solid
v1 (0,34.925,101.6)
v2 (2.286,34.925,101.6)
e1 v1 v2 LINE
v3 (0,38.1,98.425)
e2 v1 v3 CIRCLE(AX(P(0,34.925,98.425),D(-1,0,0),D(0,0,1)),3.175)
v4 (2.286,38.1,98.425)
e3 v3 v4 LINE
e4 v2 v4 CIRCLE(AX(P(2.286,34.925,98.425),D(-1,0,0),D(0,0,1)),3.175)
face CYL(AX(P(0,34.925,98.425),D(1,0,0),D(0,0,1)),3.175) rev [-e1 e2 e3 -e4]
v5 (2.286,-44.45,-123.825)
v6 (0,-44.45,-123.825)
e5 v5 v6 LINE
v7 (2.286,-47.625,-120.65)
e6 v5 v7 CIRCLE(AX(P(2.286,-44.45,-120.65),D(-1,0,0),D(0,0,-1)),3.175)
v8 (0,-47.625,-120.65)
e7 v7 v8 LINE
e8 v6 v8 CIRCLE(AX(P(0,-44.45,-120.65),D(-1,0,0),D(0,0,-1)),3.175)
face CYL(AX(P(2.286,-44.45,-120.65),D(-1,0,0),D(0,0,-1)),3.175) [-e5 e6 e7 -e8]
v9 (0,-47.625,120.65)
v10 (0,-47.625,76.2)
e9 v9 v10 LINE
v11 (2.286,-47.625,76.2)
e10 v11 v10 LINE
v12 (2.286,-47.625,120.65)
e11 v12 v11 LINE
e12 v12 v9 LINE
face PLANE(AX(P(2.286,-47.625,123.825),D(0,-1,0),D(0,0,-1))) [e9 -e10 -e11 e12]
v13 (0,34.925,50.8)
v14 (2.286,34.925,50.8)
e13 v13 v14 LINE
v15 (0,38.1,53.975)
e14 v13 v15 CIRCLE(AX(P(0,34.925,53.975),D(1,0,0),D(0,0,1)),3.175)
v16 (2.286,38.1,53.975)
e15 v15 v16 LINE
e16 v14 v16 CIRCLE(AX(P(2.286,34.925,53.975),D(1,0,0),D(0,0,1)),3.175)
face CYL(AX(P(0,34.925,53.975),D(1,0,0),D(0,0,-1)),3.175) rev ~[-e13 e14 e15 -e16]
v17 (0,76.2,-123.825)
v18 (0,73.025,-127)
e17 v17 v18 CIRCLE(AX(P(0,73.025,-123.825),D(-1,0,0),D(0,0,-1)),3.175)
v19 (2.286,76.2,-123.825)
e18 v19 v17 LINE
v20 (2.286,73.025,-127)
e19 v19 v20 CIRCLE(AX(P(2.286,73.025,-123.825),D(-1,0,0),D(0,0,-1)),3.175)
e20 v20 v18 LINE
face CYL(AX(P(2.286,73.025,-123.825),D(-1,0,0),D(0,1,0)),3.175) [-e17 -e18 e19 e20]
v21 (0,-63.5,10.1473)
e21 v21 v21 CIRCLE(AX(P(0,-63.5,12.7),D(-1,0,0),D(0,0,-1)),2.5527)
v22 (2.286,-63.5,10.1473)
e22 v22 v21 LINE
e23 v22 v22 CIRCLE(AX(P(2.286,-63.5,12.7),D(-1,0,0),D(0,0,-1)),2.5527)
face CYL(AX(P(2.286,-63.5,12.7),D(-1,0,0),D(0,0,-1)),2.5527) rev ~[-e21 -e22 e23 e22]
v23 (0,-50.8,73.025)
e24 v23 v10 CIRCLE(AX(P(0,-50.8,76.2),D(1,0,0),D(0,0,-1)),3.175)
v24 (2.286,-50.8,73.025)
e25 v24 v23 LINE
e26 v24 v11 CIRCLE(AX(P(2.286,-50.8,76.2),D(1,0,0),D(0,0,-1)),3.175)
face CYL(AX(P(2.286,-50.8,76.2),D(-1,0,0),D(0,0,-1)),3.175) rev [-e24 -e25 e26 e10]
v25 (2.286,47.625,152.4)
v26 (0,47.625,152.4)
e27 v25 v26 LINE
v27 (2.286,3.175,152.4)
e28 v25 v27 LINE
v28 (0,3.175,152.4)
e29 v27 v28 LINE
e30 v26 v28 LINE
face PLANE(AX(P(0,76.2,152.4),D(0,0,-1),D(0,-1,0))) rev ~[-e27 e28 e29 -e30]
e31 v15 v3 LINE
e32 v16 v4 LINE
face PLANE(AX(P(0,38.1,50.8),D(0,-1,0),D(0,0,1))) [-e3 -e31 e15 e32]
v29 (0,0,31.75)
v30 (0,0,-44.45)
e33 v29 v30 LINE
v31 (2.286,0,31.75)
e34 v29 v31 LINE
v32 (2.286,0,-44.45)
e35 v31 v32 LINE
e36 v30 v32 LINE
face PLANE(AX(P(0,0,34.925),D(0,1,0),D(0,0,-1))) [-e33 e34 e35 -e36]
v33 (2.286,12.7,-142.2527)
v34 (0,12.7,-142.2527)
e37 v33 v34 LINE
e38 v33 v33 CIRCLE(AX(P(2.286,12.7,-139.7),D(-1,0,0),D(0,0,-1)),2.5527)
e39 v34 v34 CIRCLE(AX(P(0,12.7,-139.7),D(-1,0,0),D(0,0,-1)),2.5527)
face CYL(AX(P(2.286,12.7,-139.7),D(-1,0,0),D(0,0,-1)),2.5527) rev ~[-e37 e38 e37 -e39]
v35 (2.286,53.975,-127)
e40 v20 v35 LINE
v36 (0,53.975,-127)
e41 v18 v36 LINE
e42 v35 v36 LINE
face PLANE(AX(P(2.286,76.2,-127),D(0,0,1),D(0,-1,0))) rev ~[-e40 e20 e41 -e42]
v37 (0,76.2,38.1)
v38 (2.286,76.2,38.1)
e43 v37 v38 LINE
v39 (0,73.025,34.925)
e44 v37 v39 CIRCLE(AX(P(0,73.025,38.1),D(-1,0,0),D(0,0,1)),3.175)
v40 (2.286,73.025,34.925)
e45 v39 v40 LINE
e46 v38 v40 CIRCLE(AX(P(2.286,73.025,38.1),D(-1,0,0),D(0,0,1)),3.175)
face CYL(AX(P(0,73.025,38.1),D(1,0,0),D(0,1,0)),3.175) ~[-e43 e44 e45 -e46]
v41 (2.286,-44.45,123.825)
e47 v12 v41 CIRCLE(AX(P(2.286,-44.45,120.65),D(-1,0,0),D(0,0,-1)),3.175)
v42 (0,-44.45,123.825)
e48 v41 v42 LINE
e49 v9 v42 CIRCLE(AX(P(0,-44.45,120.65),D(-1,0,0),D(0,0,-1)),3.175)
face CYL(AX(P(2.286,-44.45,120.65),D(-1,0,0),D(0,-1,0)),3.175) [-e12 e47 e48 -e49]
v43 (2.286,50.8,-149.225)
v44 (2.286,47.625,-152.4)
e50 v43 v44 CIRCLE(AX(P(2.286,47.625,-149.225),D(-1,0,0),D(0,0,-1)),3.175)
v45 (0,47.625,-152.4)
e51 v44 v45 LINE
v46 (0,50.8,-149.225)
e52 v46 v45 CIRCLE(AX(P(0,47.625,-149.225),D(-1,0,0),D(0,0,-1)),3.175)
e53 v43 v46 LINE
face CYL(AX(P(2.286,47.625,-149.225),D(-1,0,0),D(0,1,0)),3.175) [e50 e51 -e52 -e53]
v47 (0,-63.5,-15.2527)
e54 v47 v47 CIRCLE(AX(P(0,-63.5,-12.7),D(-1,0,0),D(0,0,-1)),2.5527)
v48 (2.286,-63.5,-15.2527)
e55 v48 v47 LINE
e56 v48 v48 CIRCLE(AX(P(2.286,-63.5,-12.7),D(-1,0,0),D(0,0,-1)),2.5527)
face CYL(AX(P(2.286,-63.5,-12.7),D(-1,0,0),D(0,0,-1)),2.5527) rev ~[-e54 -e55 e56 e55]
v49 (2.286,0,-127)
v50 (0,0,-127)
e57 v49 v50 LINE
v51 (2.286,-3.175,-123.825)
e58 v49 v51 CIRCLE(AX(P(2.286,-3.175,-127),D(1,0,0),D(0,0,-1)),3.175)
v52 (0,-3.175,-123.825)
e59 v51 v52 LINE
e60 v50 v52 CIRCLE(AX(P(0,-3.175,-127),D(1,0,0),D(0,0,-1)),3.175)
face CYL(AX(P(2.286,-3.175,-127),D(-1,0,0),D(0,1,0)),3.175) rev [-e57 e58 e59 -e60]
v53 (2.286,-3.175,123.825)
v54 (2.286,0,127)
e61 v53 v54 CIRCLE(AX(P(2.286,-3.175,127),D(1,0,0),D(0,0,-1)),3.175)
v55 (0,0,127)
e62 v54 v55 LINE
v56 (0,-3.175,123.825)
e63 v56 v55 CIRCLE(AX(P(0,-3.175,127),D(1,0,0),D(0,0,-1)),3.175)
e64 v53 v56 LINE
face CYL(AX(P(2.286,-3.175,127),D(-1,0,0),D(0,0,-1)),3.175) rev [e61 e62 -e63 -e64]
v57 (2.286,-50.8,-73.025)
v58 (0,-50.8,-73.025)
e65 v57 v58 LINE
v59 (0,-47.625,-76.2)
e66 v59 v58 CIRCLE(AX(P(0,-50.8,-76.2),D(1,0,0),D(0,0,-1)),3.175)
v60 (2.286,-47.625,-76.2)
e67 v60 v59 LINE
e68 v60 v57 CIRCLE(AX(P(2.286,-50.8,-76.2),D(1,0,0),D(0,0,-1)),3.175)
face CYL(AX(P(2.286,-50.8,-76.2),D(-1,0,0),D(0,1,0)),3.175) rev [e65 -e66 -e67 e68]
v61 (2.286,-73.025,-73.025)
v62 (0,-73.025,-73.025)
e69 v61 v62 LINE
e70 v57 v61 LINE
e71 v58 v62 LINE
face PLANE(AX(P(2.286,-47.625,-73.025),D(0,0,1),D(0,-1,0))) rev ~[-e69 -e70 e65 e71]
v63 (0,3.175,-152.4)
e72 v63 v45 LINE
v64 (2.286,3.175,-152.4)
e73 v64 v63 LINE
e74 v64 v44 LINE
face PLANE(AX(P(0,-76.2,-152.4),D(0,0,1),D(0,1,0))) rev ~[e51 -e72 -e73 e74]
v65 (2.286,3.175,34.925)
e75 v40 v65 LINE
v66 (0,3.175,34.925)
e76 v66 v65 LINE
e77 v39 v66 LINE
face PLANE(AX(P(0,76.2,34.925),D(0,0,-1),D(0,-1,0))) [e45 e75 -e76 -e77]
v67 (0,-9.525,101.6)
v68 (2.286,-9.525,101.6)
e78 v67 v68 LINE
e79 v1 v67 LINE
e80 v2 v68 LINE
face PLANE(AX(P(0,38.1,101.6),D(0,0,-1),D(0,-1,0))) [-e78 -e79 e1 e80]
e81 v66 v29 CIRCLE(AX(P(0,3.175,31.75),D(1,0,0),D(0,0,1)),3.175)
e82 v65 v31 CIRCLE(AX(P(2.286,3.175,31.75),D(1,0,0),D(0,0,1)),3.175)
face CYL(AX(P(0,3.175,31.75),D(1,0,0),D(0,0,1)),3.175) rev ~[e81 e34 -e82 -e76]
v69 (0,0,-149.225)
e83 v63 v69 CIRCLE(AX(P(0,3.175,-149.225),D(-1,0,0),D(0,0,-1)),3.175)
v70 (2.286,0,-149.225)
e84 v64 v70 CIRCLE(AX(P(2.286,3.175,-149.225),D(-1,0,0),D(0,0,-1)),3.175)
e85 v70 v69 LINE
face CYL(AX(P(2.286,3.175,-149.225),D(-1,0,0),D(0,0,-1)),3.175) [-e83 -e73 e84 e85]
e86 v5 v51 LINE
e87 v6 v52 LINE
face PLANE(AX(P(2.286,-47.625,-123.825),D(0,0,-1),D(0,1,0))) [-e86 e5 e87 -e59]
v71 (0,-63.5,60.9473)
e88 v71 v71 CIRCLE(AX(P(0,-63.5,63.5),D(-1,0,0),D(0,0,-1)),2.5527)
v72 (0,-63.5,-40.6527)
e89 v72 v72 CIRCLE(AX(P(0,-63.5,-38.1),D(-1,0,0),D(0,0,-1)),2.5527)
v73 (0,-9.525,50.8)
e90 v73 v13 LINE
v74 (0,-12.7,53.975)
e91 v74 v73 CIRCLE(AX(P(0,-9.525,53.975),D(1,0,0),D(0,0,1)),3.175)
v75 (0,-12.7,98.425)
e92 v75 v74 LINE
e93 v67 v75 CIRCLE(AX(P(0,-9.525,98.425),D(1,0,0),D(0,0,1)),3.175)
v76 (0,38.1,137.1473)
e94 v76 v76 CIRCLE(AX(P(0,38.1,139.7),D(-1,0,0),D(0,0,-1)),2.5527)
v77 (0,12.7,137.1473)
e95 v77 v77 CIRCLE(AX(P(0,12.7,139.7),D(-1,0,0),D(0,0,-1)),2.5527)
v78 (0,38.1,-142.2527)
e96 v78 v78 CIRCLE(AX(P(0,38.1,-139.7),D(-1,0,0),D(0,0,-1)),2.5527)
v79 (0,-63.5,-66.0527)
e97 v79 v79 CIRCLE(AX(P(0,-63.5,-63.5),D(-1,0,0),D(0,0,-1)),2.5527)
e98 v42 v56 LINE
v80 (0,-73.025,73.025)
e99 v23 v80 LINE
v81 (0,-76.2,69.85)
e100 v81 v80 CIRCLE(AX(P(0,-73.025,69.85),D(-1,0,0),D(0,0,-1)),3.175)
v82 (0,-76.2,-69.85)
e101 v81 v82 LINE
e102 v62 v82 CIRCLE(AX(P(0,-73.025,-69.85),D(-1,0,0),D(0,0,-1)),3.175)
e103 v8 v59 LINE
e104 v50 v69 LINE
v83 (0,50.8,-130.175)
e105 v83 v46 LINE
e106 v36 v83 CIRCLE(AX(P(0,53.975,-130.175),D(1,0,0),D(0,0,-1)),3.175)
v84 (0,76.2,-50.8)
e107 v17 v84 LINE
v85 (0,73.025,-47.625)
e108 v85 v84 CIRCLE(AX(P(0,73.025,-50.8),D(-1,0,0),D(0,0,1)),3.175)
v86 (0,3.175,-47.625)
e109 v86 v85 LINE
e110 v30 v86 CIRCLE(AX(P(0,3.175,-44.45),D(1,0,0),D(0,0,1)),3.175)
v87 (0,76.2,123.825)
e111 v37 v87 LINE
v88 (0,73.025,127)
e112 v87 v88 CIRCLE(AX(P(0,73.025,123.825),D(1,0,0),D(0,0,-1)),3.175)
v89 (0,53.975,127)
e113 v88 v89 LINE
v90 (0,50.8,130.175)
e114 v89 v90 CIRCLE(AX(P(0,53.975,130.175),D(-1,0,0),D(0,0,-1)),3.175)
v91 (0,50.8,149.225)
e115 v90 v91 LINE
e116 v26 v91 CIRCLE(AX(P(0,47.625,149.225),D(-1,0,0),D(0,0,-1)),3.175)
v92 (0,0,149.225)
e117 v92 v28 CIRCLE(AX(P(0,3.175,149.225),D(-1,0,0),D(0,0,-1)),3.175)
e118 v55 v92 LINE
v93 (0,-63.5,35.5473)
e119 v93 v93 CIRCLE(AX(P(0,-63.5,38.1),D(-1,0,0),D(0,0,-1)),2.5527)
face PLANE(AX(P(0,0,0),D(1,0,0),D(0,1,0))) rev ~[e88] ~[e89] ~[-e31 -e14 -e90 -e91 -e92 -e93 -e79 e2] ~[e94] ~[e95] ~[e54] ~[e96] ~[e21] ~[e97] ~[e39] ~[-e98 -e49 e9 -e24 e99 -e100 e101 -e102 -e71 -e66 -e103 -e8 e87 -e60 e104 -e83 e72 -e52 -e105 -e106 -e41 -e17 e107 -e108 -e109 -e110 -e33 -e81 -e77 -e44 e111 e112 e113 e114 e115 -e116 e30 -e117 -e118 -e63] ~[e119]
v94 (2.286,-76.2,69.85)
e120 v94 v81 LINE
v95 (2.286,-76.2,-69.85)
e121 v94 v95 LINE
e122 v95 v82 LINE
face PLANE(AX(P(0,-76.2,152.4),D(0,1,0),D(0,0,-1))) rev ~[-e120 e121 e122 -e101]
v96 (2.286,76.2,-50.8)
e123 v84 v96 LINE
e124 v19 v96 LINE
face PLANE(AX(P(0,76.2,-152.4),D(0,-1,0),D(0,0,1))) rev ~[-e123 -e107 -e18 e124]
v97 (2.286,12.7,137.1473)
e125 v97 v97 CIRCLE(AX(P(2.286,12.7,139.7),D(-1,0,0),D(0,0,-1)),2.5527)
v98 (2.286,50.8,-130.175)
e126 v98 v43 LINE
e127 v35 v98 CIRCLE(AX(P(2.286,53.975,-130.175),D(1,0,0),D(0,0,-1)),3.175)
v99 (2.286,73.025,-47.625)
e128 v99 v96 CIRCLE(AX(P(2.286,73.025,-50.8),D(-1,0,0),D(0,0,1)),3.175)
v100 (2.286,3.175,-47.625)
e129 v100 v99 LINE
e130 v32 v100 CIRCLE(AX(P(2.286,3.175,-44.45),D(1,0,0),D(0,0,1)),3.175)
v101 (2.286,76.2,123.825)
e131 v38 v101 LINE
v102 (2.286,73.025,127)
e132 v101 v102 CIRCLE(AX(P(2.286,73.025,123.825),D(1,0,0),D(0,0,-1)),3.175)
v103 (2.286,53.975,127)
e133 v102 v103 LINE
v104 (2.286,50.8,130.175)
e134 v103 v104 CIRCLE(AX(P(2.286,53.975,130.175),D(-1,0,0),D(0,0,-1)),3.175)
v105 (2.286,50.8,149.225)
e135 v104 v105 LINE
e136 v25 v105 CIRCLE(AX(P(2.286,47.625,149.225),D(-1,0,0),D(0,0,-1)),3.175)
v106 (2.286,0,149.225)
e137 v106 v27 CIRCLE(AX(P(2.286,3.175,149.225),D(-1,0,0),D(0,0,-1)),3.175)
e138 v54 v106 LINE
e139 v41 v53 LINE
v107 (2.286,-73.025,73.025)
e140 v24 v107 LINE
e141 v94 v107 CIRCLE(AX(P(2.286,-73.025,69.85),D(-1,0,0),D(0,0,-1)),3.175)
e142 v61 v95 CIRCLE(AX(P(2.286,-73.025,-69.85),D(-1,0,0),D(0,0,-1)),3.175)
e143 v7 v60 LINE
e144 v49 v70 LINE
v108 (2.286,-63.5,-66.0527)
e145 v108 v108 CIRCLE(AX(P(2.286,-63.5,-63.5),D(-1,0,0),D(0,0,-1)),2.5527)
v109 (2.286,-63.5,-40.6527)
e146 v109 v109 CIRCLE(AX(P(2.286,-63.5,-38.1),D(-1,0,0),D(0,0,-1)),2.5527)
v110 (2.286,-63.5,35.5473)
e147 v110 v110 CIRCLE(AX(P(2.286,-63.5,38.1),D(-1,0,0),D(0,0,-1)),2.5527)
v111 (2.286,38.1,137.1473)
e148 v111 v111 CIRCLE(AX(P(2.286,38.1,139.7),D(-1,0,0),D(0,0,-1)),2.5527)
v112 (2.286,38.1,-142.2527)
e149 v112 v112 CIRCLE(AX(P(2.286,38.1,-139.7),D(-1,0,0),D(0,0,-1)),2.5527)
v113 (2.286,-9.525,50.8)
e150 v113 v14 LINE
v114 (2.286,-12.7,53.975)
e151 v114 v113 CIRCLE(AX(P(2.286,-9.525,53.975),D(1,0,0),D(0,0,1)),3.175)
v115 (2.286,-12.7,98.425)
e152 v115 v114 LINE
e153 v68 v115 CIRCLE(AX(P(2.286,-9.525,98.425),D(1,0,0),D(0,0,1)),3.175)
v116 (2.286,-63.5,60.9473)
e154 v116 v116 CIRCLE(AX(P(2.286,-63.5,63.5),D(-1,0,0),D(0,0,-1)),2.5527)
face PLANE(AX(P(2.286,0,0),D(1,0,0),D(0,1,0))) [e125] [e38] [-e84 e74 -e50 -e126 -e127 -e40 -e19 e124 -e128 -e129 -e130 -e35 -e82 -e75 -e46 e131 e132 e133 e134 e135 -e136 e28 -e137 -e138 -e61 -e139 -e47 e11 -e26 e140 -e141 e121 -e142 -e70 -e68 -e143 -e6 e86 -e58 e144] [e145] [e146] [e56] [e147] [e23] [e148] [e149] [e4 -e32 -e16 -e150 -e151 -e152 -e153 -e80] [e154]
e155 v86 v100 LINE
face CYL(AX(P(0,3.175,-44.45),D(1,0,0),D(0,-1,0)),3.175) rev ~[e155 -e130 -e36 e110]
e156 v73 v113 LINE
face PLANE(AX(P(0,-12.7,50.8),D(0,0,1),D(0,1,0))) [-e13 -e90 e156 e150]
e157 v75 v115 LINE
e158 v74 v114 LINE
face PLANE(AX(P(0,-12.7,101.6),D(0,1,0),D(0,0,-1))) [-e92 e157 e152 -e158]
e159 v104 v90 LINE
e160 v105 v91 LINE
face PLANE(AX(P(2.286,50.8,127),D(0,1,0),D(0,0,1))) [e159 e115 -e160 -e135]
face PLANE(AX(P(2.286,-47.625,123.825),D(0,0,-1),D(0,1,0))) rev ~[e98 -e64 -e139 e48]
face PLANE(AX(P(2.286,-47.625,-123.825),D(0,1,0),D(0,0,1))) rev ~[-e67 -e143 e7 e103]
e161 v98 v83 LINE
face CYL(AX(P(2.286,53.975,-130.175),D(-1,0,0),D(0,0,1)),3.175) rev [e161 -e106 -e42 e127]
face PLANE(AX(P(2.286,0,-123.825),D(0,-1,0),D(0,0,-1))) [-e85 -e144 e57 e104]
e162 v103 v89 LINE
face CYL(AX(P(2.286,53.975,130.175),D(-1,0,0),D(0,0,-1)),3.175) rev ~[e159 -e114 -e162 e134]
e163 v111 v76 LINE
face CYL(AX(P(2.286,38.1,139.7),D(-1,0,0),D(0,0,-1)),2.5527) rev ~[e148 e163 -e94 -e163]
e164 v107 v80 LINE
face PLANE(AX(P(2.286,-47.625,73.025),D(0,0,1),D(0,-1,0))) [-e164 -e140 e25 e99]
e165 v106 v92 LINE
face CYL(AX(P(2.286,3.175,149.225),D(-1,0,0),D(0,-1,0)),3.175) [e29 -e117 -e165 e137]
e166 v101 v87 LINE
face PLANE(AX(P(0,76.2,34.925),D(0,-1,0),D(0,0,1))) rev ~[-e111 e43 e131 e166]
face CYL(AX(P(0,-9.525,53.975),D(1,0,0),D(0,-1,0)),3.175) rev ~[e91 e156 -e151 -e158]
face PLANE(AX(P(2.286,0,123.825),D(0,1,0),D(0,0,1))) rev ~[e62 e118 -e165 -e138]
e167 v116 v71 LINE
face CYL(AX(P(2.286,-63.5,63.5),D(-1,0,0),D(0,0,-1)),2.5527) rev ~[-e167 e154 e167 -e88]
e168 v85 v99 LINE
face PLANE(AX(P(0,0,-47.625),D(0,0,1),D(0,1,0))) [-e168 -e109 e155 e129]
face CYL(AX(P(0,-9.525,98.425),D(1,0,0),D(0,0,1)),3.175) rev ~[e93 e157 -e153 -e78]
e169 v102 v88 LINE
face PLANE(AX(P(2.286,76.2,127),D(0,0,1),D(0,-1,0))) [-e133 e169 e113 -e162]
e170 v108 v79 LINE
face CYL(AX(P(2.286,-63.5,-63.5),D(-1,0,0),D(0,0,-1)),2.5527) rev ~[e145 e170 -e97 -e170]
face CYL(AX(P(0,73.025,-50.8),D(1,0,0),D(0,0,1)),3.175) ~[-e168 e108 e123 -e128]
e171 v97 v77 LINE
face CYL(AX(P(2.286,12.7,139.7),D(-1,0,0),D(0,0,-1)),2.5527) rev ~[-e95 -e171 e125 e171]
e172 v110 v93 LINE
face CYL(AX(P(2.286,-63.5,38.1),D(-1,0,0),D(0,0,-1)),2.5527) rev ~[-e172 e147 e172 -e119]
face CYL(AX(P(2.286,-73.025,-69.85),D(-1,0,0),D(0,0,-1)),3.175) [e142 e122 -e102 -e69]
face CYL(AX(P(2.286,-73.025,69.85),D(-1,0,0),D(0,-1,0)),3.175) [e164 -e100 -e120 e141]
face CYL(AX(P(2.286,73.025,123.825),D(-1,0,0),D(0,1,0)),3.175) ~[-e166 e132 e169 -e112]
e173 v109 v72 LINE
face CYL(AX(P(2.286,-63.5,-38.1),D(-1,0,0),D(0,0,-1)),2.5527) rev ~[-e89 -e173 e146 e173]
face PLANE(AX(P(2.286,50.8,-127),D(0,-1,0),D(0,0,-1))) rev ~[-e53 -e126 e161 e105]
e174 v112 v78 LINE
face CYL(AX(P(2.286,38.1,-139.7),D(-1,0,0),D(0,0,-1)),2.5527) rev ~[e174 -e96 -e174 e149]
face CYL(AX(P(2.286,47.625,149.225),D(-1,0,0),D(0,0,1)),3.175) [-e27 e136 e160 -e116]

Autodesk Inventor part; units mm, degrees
ref_plane "YZ Plane" through (0, 0, 0) normal (1, 0, 0) x (0, 1, 0)
ref_plane "XZ Plane" through (0, 0, 0) normal (0, 1, 0) x (-1, 0, 0)
ref_plane "XY Plane" through (0, 0, 0) normal (0, 0, 1) x (1, 0, 0)
sketch "Sketch1" plane through (0, 0, 0) normal (1, 0, 0) x (0, 1, 0)
  line L0 (76.2, 152.4) -> (-76.2, 152.4)
  line L1 (-76.2, 152.4) -> (-76.2, -152.4)
  line L2 (-76.2, -152.4) -> (76.2, -152.4)
  line L3 (76.2, -152.4) -> (76.2, 152.4)
  line L4 (76.2, 152.4) -> (-76.2, -152.4) construction
  line L5 (-76.2, 152.4) -> (76.2, -152.4) construction
  line L6 (38.1, 101.6) -> (-12.7, 101.6)
  line L7 (-12.7, 101.6) -> (-12.7, 50.8)
  line L8 (-12.7, 50.8) -> (38.1, 50.8)
  line L9 (38.1, 50.8) -> (38.1, 101.6)
  line L10 (38.1, 101.6) -> (-12.7, 50.8) construction
  line L11 (-12.7, 101.6) -> (38.1, 50.8) construction
  line L12 (76.2, 34.925) -> (0, 34.925)
  line L13 (0, 34.925) -> (0, -47.625)
  line L14 (0, -47.625) -> (76.2, -47.625)
  line L15 (76.2, -47.625) -> (76.2, 34.925)
  line L16 (76.2, 34.925) -> (0, -47.625) construction
  line L17 (0, 34.925) -> (76.2, -47.625) construction
  point P0 (0, 0)
  point P1 (12.7, 76.2)
  point P2 (38.1, -6.35)
  point P3 (76.2, -6.35)
  point P4 (76.2, 0)
  point P5 (76.2, -47.625)
  point P6 (0, 44.45)
  point P7 (31.75, 44.45)
  point P8 (76.2, 34.925)
  dimension "d0" = 152.4
  dimension "d1" = 304.8
  dimension "d2" = 50.8
  dimension "d3" = 88.9
  dimension "d4" = 76.2
  dimension "d39" = 76.2
  dimension "d40" = 82.55
  dimension "d41" = 146.05
extrude "Extrusion1" add sketch "Sketch1" along normal blind 2.286 contours L3 L12 L13 L14 L2 L1 L0
fillet "Fillet1" radius 3.175 8 edges at (1.143, 38.1, 50.8) (1.143, 38.1, 101.6) (1.143, -12.7, 101.6) (1.143, -12.7, 50.8) (1.143, 76.2, 152.4) (1.143, 76.2, -152.4) (1.143, -76.2, -152.4) (1.143, -76.2, 152.4)
sketch "Sketch2" plane through (2.286, 0, 0) normal (1, 0, 0) x (0, 0, -1)
  arc A0 (-152.4, -73.025) -> (-149.225, -76.2) centre (-149.225, -73.025) ccw construction
  line L0 (-152.4, -73.025) -> (-152.4, 73.025) construction
  arc A1 (-149.225, 76.2) -> (-152.4, 73.025) centre (-149.225, 73.025) ccw construction
  line L1 (-149.225, 76.2) -> (-34.925, 76.2) construction
  arc A2 (152.4, 73.025) -> (149.225, 76.2) centre (149.225, 73.025) ccw construction
  line L2 (152.4, 73.025) -> (152.4, -73.025) construction
  arc A3 (149.225, -76.2) -> (152.4, -73.025) centre (149.225, -73.025) ccw construction
  line L3 (149.225, -76.2) -> (-149.225, -76.2) construction
  line L4 (-34.925, 76.2) -> (-34.925, 0) projected
  line L5 (-34.925, 0) -> (47.625, 0) projected
  line L6 (47.625, 0) -> (47.625, 76.2) projected
  line L7 (47.625, 76.2) -> (149.225, 76.2) projected
  arc A4 (-53.975, -12.7) -> (-50.8, -9.525) centre (-53.975, -9.525) ccw projected
  line L8 (-50.8, -9.525) -> (-50.8, 34.925) projected
  arc A5 (-50.8, 34.925) -> (-53.975, 38.1) centre (-53.975, 34.925) ccw projected
  line L9 (-53.975, 38.1) -> (-98.425, 38.1) projected
  arc A6 (-98.425, 38.1) -> (-101.6, 34.925) centre (-98.425, 34.925) ccw projected
  line L10 (-101.6, 34.925) -> (-101.6, -9.525) projected
  arc A7 (-101.6, -9.525) -> (-98.425, -12.7) centre (-98.425, -9.525) ccw projected
  line L11 (-98.425, -12.7) -> (-53.975, -12.7) projected
  point P0 (0, 0)
  point P1 (-139.7, -63.5)
  point P2 (139.7, -63.5)
  point P3 (-139.7, -38.1)
  point P4 (139.7, -38.1)
  point P5 (-139.7, -12.7)
  point P6 (139.7, -12.7)
  point P7 (-139.7, 12.7)
  point P8 (139.7, 12.7)
  point P9 (-139.7, 38.1)
  point P10 (139.7, 38.1)
  point P11 (-139.7, 63.5)
  point P12 (139.7, 63.5)
  point P13 (-114.3, -63.5)
  point P14 (-88.9, -63.5)
  point P15 (-63.5, -63.5)
  point P16 (-38.1, -63.5)
  point P17 (-12.7, -63.5)
  point P18 (12.7, -63.5)
  point P19 (38.1, -63.5)
  point P20 (63.5, -63.5)
  point P21 (88.9, -63.5)
  point P22 (114.3, -63.5)
  point P23 (139.7, -63.5)
  dimension "d8" = 12.7
  dimension "d9" = 12.7
  dimension "d10" = 12.7
  dimension "d13" = 25.4
  dimension "d34" = 25.4
hole "Hole1" at (2.286, -63.5, 139.7) at (2.286, -63.5, -139.7) at (2.286, -38.1, 139.7) at (2.286, -38.1, -139.7) at (2.286, -12.7, 139.7) at (2.286, -12.7, -139.7) at (2.286, 12.7, 139.7) at (2.286, 12.7, -139.7) at (2.286, 38.1, 139.7) at (2.286, 38.1, -139.7) at (2.286, 63.5, 139.7) at (2.286, 63.5, -139.7) at (2.286, -63.5, 88.9) at (2.286, -63.5, 63.5) at (2.286, -63.5, 38.1) at (2.286, -63.5, 12.7) at (2.286, -63.5, -12.7) at (2.286, -63.5, -38.1) at (2.286, -63.5, -63.5) at (2.286, -63.5, -88.9) direction (-1, 0, 0) diameter 5.1054 end through all clearance for "Flat Head Machine Screw (82)" size "#10" standard "Ansi Unified Screw Threads"
sketch "Sketch3" plane through (2.286, 0, 0) normal (1, 0, 0) x (0, 0, -1)
  line L0 (-123.825, 0) -> (-152.4, 0)
  line L1 (-152.4, 0) -> (-152.4, -76.2)
  line L2 (-152.4, -76.2) -> (-123.825, -76.2)
  line L3 (-123.825, -76.2) -> (-123.825, 0)
  line L4 (-123.825, 0) -> (-152.4, -76.2) construction
  line L5 (-152.4, 0) -> (-123.825, -76.2) construction
  circle A0 centre (-139.7, 63.5) radius 2.5527 construction
  circle A1 centre (-139.7, 38.1) radius 2.5527 construction
  circle A2 centre (-139.7, 12.7) radius 2.5527 construction
  circle A3 centre (-139.7, -12.7) radius 2.5527 construction
  circle A4 centre (-139.7, -38.1) radius 2.5527 construction
  circle A5 centre (-139.7, -63.5) radius 2.5527 construction
  circle A6 centre (139.7, -63.5) radius 2.5527 construction
  circle A7 centre (139.7, -38.1) radius 2.5527 construction
  circle A8 centre (139.7, -12.7) radius 2.5527 construction
  circle A9 centre (139.7, 12.7) radius 2.5527 construction
  circle A10 centre (139.7, 38.1) radius 2.5527 construction
  circle A11 centre (139.7, 63.5) radius 2.5527 construction
  arc A12 (-152.4, -73.025) -> (-149.225, -76.2) centre (-149.225, -73.025) ccw construction
  line L6 (-152.4, -73.025) -> (-152.4, 73.025) construction
  arc A13 (-149.225, 76.2) -> (-152.4, 73.025) centre (-149.225, 73.025) ccw construction
  line L7 (-149.225, 76.2) -> (-34.925, 76.2) construction
  arc A14 (152.4, 73.025) -> (149.225, 76.2) centre (149.225, 73.025) ccw construction
  line L8 (152.4, 73.025) -> (152.4, -73.025) construction
  arc A15 (149.225, -76.2) -> (152.4, -73.025) centre (149.225, -73.025) ccw construction
  line L9 (149.225, -76.2) -> (-149.225, -76.2) construction
  line L10 (-149.225, -76.2) -> (149.225, -76.2) construction
  line L11 (149.225, 76.2) -> (-149.225, 76.2) construction
  line L12 (0, 76.2) -> (0, -76.2) construction
  line L13 (-149.225, -76.2) -> (149.225, -76.2) construction
  line L14 (-152.4, -47.625) -> (-73.025, -47.625)
  line L15 (-73.025, -47.625) -> (-73.025, -76.2)
  line L16 (-73.025, -76.2) -> (-152.4, -76.2)
  line L17 (-152.4, -76.2) -> (-152.4, -47.625)
  line L18 (-152.4, -47.625) -> (-73.025, -76.2) construction
  line L19 (-73.025, -47.625) -> (-152.4, -76.2) construction
  line L20 (123.825, 0) -> (152.4, 0)
  line L21 (152.4, 0) -> (152.4, -76.2)
  line L22 (152.4, -76.2) -> (123.825, -76.2)
  line L23 (123.825, -76.2) -> (123.825, 0)
  line L24 (123.825, 0) -> (152.4, -76.2) construction
  line L25 (152.4, 0) -> (123.825, -76.2) construction
  circle A16 centre (139.7, -12.7) radius 2.5527 construction
  circle A17 centre (139.7, -38.1) radius 2.5527 construction
  circle A18 centre (139.7, -63.5) radius 2.5527 construction
  arc A19 (149.225, -76.2) -> (152.4, -73.025) centre (149.225, -73.025) ccw construction
  arc A20 (98.425, -25.4) -> (101.6, -22.225) centre (98.425, -22.225) ccw construction
  line L26 (152.4, -47.625) -> (73.025, -47.625)
  line L27 (73.025, -47.625) -> (73.025, -76.2)
  line L28 (73.025, -76.2) -> (152.4, -76.2)
  line L29 (152.4, -76.2) -> (152.4, -47.625)
  line L30 (152.4, -47.625) -> (73.025, -76.2) construction
  line L31 (73.025, -47.625) -> (152.4, -76.2) construction
  circle A21 centre (63.5, -63.5) radius 2.5527 projected
  circle A22 centre (12.7, -63.5) radius 2.5527 projected
  circle A23 centre (-38.1, -63.5) radius 2.5527 projected
  circle A24 centre (-88.9, -63.5) radius 2.5527 projected
  circle A25 centre (-63.5, -63.5) radius 2.5527 projected
  circle A26 centre (-12.7, -63.5) radius 2.5527 projected
  circle A27 centre (38.1, -63.5) radius 2.5527 projected
  circle A28 centre (88.9, -63.5) radius 2.5527 projected
  line L32 (-34.925, 76.2) -> (-34.925, 0) projected
  line L33 (-34.925, 0) -> (47.625, 0) projected
  line L34 (47.625, 0) -> (47.625, 76.2) projected
  line L35 (47.625, 76.2) -> (149.225, 76.2) projected
  arc A29 (-53.975, -12.7) -> (-50.8, -9.525) centre (-53.975, -9.525) ccw projected
  line L36 (-50.8, -9.525) -> (-50.8, 34.925) projected
  arc A30 (-50.8, 34.925) -> (-53.975, 38.1) centre (-53.975, 34.925) ccw projected
  line L37 (-53.975, 38.1) -> (-98.425, 38.1) projected
  arc A31 (-98.425, 38.1) -> (-101.6, 34.925) centre (-98.425, 34.925) ccw projected
  line L38 (-101.6, 34.925) -> (-101.6, -9.525) projected
  arc A32 (-101.6, -9.525) -> (-98.425, -12.7) centre (-98.425, -9.525) ccw projected
  line L39 (-98.425, -12.7) -> (-53.975, -12.7) projected
  line L40 (-127, 50.8) -> (-152.4, 50.8)
  line L41 (-152.4, 50.8) -> (-152.4, 76.2)
  line L42 (-152.4, 76.2) -> (-127, 76.2)
  line L43 (-127, 76.2) -> (-127, 50.8)
  circle A33 centre (139.7, 63.5) radius 2.5527 construction
  arc A34 (152.4, 73.025) -> (149.225, 76.2) centre (149.225, 73.025) ccw construction
  line L44 (127, 50.8) -> (152.4, 50.8)
  line L45 (152.4, 50.8) -> (152.4, 76.2)
  line L46 (152.4, 76.2) -> (127, 76.2)
  line L47 (127, 76.2) -> (127, 50.8)
  point P0 (0, 0)
  point P1 (-138.1125, -38.1)
  point P2 (-101.6, -22.225)
  point P3 (-98.425, -25.4)
  point P4 (-98.425, -22.225)
  point P5 (-112.7125, -61.9125)
  point P6 (138.1125, -38.1)
  point P7 (112.7125, -61.9125)
  point P8 (123.825, -47.625)
  point P9 (-123.825, -47.625)
  dimension "d25" = 28.575
  dimension "d26" = 76.2
  dimension "d27" = 28.575
  dimension "d28" = 79.375
  dimension "d42" = 25.4
extrude "Extrusion2" cut sketch "Sketch3" against normal through all contours L3 L14 L1 L0 | L14 L15 L16 L3 | L3 L2 L1 L14 | L20 L21 L26 L23 | L26 L21 L22 L23 | L23 L28 L27 L26 | A24 | A28 | L35 L46 L45 L44 L47 | L40 L41 L42 L43
fillet "Fillet2" radius 3.175 20 edges at (1.143, 0, 152.4) (1.143, 0, 123.825) (1.143, -47.625, 123.825) (1.143, -47.625, 73.025) (1.143, -76.2, 73.025) (1.143, -76.2, -73.025) (1.143, -47.625, -73.025) (1.143, -47.625, -123.825) (1.143, 0, -123.825) (1.143, 0, -152.4) (1.143, 0, 34.925) (1.143, 0, -47.625) (1.143, 76.2, -47.625) (1.143, 76.2, 34.925) (1.143, 50.8, 127) (1.143, 76.2, 127) (1.143, 50.8, 152.4) (1.143, 76.2, -127) (1.143, 50.8, -127) (1.143, 50.8, -152.4)
equation "\"d9\" = d8"
equation "\"d10\" = d8"
properties part number "DB1-025" material "Polycarbonate, Smoke"
